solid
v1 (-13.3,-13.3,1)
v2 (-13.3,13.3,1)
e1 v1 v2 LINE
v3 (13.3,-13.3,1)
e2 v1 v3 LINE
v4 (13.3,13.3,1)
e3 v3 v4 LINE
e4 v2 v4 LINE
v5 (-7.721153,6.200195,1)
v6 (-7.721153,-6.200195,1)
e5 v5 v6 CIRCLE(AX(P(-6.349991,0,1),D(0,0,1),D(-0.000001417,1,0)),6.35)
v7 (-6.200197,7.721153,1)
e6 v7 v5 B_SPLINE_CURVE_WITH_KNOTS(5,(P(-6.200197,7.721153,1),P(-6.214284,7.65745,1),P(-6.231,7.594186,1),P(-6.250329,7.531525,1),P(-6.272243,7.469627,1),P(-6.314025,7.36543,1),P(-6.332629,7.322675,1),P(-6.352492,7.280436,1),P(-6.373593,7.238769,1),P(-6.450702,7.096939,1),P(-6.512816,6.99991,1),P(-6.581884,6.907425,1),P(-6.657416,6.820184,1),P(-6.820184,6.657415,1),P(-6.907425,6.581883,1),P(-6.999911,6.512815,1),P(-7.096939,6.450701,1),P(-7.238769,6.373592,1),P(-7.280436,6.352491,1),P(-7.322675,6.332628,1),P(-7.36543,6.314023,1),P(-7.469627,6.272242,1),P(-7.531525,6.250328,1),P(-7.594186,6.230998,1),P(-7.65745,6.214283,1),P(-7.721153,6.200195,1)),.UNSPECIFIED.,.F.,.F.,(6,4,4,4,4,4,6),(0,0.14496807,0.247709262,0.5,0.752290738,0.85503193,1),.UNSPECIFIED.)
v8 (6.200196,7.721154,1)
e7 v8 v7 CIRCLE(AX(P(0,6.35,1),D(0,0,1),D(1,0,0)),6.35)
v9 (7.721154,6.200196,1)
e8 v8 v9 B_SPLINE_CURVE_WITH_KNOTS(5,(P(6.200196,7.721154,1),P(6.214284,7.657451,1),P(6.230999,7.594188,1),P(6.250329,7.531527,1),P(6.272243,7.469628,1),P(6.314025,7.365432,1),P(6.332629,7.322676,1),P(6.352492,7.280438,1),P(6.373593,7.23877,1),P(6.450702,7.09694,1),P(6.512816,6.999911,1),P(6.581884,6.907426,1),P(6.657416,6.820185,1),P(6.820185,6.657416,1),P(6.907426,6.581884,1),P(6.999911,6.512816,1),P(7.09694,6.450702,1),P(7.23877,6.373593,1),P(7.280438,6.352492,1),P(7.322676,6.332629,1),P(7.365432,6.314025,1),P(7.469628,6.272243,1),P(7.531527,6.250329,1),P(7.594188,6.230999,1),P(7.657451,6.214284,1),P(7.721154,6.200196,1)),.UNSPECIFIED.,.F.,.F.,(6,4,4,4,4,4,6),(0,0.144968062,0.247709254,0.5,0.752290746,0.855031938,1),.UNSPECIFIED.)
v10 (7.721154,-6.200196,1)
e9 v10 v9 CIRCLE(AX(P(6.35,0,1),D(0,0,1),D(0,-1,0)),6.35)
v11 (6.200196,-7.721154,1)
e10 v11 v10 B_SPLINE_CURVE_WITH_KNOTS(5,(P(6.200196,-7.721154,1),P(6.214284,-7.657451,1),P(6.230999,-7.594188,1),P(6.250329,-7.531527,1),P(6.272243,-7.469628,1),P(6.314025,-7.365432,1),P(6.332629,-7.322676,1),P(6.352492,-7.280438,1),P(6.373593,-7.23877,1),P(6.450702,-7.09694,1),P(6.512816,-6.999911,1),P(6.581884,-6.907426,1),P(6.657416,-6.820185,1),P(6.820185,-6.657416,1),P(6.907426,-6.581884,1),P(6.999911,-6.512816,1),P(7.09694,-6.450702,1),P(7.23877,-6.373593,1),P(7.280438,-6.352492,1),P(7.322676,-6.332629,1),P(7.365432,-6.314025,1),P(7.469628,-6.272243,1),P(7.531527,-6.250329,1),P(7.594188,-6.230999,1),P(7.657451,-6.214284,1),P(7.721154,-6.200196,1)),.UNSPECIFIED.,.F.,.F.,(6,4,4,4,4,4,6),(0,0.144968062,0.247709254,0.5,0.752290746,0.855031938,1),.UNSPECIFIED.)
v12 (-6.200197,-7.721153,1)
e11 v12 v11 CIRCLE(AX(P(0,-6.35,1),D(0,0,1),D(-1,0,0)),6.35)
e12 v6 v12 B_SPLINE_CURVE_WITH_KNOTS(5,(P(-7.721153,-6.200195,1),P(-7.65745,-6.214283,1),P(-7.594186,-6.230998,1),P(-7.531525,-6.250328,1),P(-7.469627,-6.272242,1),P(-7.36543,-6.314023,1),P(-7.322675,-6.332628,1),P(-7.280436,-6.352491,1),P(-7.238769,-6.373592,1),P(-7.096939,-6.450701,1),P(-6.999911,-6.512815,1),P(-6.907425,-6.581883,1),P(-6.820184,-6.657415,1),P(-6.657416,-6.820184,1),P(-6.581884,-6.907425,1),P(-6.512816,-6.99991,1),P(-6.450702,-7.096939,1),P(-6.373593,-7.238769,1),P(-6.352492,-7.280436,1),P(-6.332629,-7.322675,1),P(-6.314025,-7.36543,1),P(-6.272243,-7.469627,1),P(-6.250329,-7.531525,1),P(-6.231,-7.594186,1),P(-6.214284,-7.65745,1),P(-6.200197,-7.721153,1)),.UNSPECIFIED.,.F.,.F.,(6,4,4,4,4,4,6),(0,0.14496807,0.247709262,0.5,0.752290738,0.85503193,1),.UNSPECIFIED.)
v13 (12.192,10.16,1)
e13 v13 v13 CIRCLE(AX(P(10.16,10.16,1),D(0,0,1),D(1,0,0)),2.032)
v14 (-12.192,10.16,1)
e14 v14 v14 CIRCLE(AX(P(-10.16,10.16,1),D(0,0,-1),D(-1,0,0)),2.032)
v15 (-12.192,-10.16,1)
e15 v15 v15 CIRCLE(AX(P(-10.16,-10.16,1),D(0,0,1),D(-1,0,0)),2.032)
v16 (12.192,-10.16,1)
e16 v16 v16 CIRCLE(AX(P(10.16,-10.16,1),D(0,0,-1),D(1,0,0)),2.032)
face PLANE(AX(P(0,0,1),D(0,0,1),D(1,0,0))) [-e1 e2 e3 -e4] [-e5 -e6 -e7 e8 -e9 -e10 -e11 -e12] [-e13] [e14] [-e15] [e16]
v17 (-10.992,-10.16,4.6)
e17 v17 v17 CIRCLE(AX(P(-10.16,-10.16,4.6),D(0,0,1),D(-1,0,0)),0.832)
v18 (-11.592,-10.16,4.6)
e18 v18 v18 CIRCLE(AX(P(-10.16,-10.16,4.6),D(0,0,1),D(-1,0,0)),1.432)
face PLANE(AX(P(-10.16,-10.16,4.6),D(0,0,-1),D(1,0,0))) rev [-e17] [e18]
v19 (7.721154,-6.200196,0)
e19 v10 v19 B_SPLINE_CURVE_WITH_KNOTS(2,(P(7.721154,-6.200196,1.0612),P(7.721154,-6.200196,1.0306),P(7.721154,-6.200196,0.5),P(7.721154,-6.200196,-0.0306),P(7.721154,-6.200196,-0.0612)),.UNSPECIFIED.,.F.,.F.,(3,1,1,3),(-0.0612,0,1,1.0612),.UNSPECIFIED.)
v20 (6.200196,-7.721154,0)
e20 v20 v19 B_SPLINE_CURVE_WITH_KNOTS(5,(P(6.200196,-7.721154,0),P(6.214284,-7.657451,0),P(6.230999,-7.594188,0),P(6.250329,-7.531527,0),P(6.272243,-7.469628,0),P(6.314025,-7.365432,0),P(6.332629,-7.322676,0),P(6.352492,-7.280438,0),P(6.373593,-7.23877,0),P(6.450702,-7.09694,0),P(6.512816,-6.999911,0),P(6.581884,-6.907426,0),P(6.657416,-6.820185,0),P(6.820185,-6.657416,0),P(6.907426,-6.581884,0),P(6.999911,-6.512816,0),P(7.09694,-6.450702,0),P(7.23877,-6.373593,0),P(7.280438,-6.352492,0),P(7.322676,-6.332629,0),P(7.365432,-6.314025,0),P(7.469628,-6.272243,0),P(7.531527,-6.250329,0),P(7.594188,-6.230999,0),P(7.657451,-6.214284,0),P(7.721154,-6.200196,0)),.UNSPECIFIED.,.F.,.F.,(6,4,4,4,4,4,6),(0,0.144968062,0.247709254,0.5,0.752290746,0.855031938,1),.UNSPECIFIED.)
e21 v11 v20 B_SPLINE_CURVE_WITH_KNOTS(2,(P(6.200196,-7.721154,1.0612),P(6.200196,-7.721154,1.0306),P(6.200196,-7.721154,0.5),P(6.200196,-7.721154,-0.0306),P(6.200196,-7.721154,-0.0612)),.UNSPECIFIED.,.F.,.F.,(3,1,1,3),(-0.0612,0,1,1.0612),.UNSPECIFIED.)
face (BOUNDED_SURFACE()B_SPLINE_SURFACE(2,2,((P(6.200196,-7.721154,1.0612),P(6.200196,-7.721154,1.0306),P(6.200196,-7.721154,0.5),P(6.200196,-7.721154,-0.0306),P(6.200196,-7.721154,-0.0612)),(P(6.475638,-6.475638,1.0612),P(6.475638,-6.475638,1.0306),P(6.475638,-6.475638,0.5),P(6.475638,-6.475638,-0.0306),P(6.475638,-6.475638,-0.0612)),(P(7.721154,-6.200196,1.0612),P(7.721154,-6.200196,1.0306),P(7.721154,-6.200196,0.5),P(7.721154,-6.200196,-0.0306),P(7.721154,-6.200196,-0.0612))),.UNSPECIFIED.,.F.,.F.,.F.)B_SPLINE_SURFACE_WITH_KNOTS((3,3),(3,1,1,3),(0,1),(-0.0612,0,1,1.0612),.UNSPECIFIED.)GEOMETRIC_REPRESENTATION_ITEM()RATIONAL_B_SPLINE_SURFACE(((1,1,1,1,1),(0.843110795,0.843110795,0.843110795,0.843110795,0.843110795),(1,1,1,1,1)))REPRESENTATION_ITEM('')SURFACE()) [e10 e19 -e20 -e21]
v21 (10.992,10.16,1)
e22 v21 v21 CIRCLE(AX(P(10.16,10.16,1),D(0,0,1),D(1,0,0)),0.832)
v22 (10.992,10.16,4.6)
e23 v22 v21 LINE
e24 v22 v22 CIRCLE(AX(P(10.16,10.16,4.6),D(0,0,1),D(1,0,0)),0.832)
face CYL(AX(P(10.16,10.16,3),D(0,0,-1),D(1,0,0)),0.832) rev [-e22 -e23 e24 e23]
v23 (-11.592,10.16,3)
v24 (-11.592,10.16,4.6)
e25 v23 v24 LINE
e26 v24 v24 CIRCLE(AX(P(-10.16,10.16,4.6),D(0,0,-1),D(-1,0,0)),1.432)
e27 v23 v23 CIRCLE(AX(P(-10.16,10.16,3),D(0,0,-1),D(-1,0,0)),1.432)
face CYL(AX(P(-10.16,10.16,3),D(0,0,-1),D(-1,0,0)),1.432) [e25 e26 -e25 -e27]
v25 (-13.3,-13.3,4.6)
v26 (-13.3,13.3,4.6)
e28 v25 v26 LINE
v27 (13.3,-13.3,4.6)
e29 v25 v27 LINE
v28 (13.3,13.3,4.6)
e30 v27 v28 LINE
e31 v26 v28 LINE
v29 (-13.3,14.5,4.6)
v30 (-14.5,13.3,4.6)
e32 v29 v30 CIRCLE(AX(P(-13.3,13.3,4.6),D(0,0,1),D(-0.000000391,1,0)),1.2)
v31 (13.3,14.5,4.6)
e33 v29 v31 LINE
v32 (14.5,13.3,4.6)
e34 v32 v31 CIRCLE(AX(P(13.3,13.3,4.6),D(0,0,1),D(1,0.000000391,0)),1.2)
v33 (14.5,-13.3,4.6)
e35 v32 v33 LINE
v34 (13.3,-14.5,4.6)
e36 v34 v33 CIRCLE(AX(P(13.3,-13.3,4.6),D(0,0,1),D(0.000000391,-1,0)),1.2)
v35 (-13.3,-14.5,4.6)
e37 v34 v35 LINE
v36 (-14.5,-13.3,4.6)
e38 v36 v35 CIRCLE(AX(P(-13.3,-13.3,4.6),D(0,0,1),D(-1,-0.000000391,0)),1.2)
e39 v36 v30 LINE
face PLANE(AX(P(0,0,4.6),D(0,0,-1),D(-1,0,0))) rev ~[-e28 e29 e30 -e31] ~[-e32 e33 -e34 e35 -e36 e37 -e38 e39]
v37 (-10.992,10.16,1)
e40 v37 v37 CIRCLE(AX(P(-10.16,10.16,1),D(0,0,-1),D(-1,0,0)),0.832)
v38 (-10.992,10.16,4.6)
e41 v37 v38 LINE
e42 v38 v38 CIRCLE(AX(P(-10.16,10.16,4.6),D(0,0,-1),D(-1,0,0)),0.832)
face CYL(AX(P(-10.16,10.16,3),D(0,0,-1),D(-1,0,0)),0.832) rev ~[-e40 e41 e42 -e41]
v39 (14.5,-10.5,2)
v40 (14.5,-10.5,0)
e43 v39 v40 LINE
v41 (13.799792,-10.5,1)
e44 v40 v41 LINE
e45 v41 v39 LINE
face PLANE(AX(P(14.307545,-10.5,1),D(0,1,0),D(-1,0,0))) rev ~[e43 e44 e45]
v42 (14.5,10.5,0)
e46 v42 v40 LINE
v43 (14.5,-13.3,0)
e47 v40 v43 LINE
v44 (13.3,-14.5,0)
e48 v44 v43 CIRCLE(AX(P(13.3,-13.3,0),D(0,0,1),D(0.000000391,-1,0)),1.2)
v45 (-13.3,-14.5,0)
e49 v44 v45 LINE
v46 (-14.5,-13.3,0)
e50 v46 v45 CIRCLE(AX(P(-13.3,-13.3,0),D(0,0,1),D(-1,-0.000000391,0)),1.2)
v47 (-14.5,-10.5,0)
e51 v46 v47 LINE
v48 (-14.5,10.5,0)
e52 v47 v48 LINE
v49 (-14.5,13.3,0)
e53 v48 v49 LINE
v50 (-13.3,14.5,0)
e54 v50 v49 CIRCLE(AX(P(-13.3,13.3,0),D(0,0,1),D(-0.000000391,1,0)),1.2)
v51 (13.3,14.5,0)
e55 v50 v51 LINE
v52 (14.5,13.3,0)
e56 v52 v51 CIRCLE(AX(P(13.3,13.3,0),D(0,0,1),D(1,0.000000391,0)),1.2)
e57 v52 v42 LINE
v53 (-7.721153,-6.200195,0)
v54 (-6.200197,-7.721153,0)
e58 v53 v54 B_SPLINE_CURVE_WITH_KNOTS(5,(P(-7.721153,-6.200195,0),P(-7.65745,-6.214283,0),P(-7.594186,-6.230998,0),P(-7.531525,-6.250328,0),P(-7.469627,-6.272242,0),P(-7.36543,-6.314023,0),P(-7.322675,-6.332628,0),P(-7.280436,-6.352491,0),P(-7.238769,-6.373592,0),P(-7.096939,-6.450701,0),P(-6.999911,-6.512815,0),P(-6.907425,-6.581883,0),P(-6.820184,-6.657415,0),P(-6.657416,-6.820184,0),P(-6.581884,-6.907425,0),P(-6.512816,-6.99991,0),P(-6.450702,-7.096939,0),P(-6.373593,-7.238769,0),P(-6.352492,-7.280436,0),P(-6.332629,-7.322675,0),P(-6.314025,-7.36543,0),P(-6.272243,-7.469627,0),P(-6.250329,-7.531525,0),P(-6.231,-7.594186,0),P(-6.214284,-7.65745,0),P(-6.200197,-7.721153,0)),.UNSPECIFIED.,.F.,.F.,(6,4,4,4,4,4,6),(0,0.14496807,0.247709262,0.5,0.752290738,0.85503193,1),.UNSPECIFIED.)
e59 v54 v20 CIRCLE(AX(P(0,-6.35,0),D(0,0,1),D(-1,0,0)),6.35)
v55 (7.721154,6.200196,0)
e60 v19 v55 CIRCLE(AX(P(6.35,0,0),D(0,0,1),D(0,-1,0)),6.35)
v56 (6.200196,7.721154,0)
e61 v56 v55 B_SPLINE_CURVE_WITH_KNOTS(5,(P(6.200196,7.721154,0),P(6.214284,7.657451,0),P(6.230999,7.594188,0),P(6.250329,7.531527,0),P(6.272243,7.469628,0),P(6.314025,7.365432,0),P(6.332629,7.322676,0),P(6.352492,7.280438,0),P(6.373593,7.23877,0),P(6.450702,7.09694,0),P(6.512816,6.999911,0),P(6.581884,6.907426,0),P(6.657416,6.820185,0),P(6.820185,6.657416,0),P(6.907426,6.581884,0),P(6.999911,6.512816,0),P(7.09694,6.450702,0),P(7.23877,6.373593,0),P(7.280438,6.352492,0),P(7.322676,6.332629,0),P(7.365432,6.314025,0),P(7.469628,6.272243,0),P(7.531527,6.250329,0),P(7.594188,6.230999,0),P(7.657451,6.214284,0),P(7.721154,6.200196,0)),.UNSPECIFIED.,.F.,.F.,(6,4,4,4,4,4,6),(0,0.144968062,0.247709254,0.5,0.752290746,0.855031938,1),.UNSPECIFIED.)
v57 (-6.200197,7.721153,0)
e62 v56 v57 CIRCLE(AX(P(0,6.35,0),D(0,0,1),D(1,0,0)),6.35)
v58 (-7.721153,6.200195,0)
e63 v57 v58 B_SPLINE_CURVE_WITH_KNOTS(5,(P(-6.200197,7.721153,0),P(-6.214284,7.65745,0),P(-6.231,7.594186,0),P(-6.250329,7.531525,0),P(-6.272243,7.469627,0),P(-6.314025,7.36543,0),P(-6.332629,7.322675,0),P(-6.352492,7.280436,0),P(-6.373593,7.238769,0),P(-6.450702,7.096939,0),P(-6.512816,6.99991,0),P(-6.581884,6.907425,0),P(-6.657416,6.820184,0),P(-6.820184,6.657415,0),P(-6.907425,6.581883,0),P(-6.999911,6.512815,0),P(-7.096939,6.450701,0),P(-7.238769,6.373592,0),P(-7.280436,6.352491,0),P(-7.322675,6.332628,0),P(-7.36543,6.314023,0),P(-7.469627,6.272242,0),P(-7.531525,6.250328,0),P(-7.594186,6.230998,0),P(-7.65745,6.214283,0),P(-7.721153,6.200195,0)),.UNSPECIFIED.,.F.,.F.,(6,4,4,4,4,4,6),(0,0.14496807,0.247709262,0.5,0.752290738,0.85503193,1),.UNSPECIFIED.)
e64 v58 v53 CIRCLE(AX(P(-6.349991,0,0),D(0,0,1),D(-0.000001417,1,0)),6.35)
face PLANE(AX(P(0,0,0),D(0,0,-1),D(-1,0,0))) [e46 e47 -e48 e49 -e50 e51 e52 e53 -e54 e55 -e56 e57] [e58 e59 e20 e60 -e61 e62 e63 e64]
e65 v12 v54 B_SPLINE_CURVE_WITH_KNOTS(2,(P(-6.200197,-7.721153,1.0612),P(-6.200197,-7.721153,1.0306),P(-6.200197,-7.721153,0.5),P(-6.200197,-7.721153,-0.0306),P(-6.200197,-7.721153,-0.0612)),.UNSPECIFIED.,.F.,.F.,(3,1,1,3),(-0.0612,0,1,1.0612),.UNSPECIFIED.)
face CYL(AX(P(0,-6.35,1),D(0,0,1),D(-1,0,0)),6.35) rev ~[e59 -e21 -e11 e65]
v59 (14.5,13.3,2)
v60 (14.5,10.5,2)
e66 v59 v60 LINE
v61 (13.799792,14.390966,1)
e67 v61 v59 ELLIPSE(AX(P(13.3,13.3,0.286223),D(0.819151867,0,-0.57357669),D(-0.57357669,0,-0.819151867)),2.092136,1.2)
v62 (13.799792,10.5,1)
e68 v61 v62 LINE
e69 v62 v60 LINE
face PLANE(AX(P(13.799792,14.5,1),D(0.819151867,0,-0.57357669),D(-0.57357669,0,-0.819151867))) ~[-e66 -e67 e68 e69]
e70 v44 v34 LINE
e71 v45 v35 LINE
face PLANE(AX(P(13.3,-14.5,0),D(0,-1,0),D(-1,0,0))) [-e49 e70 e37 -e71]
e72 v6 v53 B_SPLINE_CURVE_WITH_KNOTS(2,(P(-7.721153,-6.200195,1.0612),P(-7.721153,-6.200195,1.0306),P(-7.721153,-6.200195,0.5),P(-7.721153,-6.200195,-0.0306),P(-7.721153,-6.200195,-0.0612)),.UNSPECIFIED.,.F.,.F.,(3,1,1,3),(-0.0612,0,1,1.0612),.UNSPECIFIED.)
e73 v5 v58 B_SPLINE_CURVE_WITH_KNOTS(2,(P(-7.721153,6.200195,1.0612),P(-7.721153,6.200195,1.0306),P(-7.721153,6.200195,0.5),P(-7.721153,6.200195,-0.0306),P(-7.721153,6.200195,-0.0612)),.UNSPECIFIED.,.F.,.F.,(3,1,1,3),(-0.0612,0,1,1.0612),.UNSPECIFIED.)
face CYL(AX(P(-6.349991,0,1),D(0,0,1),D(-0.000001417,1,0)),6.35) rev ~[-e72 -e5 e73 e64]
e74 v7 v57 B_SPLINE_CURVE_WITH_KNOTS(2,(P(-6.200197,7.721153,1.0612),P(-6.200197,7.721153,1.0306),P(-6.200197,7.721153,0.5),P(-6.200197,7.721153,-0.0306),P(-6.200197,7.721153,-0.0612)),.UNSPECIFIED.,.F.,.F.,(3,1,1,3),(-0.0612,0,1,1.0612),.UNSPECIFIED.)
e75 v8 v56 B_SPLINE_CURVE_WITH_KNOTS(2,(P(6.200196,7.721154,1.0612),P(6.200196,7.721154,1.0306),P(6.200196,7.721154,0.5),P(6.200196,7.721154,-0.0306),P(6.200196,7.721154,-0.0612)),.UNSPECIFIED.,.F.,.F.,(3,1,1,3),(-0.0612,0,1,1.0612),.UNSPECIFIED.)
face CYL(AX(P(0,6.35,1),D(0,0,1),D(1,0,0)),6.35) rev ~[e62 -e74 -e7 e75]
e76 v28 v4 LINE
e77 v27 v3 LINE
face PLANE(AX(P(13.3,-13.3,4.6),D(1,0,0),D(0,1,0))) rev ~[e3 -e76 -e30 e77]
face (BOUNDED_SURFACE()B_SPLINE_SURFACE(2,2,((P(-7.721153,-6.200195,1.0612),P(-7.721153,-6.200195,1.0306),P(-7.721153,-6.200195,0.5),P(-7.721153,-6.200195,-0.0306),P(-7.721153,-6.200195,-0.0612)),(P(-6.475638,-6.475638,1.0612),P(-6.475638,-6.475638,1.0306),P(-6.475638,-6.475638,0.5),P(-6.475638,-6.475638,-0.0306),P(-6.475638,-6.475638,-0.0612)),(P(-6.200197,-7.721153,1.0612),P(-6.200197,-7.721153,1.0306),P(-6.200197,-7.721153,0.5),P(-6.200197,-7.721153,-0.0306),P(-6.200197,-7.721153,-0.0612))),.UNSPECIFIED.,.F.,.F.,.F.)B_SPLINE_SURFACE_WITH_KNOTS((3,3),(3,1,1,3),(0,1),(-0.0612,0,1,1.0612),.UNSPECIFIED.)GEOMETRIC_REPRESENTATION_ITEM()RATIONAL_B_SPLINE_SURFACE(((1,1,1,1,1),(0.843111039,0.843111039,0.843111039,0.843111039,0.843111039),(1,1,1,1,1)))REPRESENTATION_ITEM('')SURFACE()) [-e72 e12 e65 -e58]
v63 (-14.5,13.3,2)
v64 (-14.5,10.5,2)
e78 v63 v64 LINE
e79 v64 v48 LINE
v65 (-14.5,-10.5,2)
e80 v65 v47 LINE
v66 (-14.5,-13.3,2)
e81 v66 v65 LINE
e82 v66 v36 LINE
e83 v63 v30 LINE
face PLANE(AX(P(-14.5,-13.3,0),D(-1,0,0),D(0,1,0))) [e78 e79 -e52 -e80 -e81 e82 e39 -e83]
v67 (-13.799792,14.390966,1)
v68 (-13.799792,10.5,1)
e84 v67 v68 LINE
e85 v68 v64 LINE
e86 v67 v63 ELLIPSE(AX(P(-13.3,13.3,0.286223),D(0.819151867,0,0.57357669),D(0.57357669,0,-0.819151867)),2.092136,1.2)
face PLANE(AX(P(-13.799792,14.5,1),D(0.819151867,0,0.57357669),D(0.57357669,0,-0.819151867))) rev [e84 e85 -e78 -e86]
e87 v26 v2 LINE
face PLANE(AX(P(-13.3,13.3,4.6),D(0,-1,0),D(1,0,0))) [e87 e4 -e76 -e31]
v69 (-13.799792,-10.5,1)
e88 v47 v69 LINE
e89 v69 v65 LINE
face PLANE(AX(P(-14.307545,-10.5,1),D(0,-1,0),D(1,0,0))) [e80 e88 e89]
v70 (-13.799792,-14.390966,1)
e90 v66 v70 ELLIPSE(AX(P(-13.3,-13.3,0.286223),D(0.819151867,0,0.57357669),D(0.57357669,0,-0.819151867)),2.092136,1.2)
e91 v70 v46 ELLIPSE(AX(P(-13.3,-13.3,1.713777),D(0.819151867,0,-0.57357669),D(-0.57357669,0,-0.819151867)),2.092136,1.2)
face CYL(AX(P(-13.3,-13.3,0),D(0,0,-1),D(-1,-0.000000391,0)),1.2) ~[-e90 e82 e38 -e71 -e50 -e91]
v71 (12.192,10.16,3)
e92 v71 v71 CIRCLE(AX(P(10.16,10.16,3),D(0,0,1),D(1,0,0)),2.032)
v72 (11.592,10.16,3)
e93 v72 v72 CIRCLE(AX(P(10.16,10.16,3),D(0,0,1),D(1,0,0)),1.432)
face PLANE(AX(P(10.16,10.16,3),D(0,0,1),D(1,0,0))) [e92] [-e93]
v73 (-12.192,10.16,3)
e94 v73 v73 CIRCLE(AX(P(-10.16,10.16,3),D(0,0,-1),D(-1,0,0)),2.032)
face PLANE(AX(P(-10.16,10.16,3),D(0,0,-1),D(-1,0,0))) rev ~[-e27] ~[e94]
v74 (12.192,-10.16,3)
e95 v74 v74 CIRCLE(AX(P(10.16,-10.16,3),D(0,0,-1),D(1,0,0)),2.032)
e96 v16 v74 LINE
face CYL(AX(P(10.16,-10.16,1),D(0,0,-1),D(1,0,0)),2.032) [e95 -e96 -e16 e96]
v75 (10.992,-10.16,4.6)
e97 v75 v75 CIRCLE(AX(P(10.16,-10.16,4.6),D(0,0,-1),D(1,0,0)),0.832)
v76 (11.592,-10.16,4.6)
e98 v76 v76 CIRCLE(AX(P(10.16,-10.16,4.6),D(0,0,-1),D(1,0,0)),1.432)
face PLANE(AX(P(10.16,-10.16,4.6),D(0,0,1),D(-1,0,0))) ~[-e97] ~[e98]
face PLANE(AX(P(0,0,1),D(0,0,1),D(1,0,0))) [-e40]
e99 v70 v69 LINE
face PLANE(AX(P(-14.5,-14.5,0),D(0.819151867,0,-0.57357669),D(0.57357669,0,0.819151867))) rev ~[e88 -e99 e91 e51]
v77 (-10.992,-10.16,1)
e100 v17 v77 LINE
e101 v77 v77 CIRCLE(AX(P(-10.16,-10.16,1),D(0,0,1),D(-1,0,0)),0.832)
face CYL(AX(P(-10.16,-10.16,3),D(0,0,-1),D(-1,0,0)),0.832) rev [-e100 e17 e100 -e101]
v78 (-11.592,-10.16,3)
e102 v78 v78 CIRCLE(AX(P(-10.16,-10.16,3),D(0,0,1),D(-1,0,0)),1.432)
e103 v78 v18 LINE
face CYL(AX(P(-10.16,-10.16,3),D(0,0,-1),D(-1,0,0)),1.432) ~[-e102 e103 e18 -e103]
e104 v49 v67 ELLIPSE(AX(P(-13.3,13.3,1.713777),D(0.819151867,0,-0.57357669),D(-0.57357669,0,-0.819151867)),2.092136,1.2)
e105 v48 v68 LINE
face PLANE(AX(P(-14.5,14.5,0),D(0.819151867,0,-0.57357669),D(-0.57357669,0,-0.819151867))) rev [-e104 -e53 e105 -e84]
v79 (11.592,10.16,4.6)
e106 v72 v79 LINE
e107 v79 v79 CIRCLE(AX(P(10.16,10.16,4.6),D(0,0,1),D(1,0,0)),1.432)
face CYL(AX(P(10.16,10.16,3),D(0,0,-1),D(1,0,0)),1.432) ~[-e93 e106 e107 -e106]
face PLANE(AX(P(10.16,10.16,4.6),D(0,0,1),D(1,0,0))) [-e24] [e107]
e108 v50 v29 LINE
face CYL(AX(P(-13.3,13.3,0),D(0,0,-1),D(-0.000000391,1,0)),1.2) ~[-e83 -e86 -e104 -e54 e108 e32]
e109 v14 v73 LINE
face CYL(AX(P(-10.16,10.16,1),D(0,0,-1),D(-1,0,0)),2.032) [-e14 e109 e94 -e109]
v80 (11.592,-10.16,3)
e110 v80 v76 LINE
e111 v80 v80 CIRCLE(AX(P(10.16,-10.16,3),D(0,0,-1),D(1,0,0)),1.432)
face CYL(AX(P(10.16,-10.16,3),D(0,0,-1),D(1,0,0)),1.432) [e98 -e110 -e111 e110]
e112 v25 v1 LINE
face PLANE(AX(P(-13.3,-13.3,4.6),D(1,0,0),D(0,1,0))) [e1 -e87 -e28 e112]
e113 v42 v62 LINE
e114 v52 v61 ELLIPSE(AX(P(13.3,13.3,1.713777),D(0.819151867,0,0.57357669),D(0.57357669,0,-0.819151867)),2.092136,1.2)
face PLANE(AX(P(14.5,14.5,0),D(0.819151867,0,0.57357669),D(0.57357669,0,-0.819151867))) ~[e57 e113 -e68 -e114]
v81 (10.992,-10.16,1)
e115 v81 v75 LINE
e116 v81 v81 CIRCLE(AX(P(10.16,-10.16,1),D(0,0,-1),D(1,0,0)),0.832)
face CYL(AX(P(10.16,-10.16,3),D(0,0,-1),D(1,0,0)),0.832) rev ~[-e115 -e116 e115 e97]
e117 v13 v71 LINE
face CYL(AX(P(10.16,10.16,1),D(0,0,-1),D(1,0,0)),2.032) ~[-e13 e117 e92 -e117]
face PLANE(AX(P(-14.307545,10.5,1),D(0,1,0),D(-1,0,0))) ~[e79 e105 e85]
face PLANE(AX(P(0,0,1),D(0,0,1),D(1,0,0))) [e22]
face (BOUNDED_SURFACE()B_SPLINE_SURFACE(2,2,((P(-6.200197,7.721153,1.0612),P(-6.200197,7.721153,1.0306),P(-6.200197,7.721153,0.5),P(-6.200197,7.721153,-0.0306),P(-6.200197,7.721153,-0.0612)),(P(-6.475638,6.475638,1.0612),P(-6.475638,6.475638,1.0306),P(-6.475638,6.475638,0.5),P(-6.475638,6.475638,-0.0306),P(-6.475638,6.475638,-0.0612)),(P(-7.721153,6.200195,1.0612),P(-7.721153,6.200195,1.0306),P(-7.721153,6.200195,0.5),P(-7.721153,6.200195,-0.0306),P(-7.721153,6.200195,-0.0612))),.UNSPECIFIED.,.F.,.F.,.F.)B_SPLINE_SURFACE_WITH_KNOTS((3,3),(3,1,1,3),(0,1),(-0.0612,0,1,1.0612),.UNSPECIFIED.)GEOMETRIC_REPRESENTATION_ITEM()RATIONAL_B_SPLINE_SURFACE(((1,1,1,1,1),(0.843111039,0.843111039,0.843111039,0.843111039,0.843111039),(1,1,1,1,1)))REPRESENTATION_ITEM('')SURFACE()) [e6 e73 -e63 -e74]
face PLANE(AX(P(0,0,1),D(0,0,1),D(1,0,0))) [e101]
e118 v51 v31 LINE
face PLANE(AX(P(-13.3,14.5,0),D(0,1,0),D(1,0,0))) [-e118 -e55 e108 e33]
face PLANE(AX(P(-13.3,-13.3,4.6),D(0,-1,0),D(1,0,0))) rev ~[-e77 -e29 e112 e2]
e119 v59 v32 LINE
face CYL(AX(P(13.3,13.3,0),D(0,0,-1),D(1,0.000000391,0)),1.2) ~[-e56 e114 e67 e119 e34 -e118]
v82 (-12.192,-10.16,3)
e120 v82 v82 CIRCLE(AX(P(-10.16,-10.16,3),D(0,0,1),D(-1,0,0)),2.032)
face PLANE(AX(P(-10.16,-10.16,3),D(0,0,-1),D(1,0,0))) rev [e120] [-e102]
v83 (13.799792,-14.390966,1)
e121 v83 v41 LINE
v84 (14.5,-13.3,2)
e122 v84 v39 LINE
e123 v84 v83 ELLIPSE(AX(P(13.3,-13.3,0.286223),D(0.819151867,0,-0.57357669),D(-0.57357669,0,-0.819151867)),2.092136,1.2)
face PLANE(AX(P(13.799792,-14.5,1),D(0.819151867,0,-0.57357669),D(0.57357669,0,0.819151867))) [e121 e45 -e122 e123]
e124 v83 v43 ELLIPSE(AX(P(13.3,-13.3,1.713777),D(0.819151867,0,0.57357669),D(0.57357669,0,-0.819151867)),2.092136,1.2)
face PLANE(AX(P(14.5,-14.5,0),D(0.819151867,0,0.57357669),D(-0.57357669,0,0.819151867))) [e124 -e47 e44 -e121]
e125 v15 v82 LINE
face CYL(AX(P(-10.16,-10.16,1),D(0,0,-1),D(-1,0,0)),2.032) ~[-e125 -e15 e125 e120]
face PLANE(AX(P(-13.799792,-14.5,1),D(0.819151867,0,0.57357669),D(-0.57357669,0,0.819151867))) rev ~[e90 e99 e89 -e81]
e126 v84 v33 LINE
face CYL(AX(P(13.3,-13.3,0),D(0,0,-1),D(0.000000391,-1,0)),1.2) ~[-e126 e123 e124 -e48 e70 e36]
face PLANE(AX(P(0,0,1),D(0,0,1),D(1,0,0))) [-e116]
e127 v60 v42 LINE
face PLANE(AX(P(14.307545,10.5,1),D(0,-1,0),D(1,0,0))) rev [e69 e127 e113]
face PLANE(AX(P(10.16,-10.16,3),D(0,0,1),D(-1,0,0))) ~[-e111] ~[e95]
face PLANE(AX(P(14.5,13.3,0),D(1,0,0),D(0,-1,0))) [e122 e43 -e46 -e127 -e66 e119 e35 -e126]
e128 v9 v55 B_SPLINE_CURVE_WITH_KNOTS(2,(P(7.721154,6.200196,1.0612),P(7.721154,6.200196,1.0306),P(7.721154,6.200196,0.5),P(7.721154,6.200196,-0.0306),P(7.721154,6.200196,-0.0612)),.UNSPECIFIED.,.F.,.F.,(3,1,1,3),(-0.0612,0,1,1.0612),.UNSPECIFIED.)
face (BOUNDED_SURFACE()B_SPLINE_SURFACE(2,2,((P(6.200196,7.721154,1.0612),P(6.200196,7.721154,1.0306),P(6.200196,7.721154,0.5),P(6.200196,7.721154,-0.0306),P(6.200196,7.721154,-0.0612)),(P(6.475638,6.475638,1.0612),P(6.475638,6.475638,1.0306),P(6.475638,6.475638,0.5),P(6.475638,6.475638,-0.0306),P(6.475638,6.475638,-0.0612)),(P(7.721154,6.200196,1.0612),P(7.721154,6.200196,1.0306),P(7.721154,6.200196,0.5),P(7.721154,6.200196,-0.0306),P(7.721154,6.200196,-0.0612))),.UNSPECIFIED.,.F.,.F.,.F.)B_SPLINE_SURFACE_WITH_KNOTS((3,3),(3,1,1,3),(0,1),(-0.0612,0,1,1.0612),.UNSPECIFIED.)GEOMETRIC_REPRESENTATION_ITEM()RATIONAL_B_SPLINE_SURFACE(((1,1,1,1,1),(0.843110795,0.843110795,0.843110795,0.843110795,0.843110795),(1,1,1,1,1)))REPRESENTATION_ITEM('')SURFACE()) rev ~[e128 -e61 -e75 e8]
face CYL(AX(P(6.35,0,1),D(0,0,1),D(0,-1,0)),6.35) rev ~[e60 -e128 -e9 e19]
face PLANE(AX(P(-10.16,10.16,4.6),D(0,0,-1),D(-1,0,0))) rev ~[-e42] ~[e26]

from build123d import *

# Parameters (mm, degrees)
PAD011_DEPTH                = 4.6
SKETCH016_W                 = 26.6
SKETCH016_H                 = 26.6
POCKET005_DEPTH             = 3.6
SKETCH018_R                 = 2.032
SKETCH018_R_2               = 0.832
PAD012_DEPTH                = 2
SKETCH018_MIRRORED013_2_R   = 2.032
SKETCH018_MIRRORED013_2_R_2 = 0.832
PAD012_MIRRORED013_2_DEPTH  = 2
SKETCH_R                    = 1.432
SKETCH_R_2                  = 0.832
PAD_DEPTH                   = 1.6
SKETCH_MIRRORED023_2_R      = 1.432
SKETCH_MIRRORED023_2_R_2    = 0.832
PAD_MIRRORED023_2_DEPTH     = 1.6
POCKET007_DEPTH             = 1.001
POCKET009_DEPTH             = 4
POCKET009_MIRRORED_2_DEPTH  = 4
FILLET014_R                 = 2


with BuildPart() as part:
    # Sketch015 → Pad011 (new body)
    with BuildSketch(Plane.XY):
        with BuildLine():
            Line((-13.3, 14.5), (13.3, 14.5))
            ThreePointArc((14.5, 13.3), (14.148528, 14.148528), (13.3, 14.5))
            Line((14.5, 13.3), (14.5, -13.3))
            ThreePointArc((13.3, -14.5), (14.148528, -14.148528), (14.5, -13.3))
            Line((13.3, -14.5), (-13.3, -14.5))
            ThreePointArc((-14.5, -13.3), (-14.148528, -14.148528), (-13.3, -14.5))
            Line((-14.5, -13.3), (-14.5, 13.3))
            ThreePointArc((-13.3, 14.5), (-14.148528, 14.148528), (-14.5, 13.3))
        make_face()
    extrude(amount=PAD011_DEPTH)

    # Sketch016 (on Face10 of Pad011) → Pocket005 (cut)
    with BuildSketch(Plane.XY.offset(4.6)):
        Rectangle(SKETCH016_W, SKETCH016_H)
    extrude(amount=-POCKET005_DEPTH, mode=Mode.SUBTRACT)

    # Sketch018 → Pad012 (join)
    with BuildSketch(Plane.XY.offset(1)):
        with Locations((10.16, 10.16)):
            Circle(SKETCH018_R)
        with Locations((10.16, 10.16)):
            Circle(SKETCH018_R_2, mode=Mode.SUBTRACT)
    pad012 = extrude(amount=PAD012_DEPTH)

    # Sketch018 Mirrored013 2 → Pad012 Mirrored013 2 (add)
    with BuildSketch(Plane(origin=(0, 0, 1), x_dir=(-1, 0, 0), z_dir=(0, 0, -1))):
        with Locations((10.16, 10.16)):
            Circle(SKETCH018_MIRRORED013_2_R)
        with Locations((10.16, 10.16)):
            Circle(SKETCH018_MIRRORED013_2_R_2, mode=Mode.SUBTRACT)
    pad012_mirrored013_2 = extrude(amount=-PAD012_MIRRORED013_2_DEPTH)

    # Mirrored014: Pad012, Pad012 Mirrored013 2 across Sketch018 H_Axis
    add(pad012.mirror(Plane(origin=(0, 0, 1), x_dir=(0, 0, 1), z_dir=(0, 1, 0))))
    add(pad012_mirrored013_2.mirror(Plane(origin=(0, 0, 1), x_dir=(0, 0, 1), z_dir=(0, 1, 0))))

    # Sketch (on Face22 of MultiTransform008) → Pad (join)
    with BuildSketch(Plane.XY.offset(3)):
        with Locations((10.16, 10.16)):
            Circle(SKETCH_R)
        with Locations((10.16, 10.16)):
            Circle(SKETCH_R_2, mode=Mode.SUBTRACT)
    pad = extrude(amount=PAD_DEPTH)

    # Sketch Mirrored023 2 → Pad Mirrored023 2 (add)
    with BuildSketch(Plane(origin=(0, 0, 3), x_dir=(-1, 0, 0), z_dir=(0, 0, -1))):
        with Locations((10.16, 10.16)):
            Circle(SKETCH_MIRRORED023_2_R)
        with Locations((10.16, 10.16)):
            Circle(SKETCH_MIRRORED023_2_R_2, mode=Mode.SUBTRACT)
    pad_mirrored023_2 = extrude(amount=-PAD_MIRRORED023_2_DEPTH)

    # Mirrored024: Pad, Pad Mirrored023 2 across Sketch H_Axis
    add(pad.mirror(Plane(origin=(0, 0, 3), x_dir=(0, 0, 1), z_dir=(0, 1, 0))))
    add(pad_mirrored023_2.mirror(Plane(origin=(0, 0, 3), x_dir=(0, 0, 1), z_dir=(0, 1, 0))))

    # Sketch020 (on Face15 of Pocket005) → Pocket007 (cut, through all)
    with BuildSketch(Plane.XY.offset(1)):
        with BuildLine():
            ThreePointArc((6.35, 6.35), (0, 12.7), (-6.35, 6.35))
            ThreePointArc((-6.35, 6.35), (-12.699991, 0), (-6.35, -6.35))
            ThreePointArc((-6.35, -6.35), (0, -12.7), (6.35, -6.35))
            ThreePointArc((6.35, -6.35), (12.7, 0), (6.35, 6.35))
        make_face()
    extrude(amount=-POCKET007_DEPTH, mode=Mode.SUBTRACT)

    # Sketch026 (on Face6 of Pocket007) → Pocket009 (cut)
    with BuildSketch(Plane.XZ.offset(14.5)):
        Polygon((14.5, 0), (13.799792, 1), (14.5, 2), align=None)
    pocket009 = extrude(amount=-POCKET009_DEPTH, mode=Mode.SUBTRACT)

    # Sketch026 Mirrored 2 → Pocket009 Mirrored 2 (cut)
    with BuildSketch(Plane(origin=(0, -14.5, 0), x_dir=(-1, 0, 0), z_dir=(0, 1, 0))):
        Polygon((14.5, 0), (13.799792, 1), (14.5, 2), align=None)
    pocket009_mirrored_2 = extrude(amount=POCKET009_MIRRORED_2_DEPTH, mode=Mode.SUBTRACT)

    # Mirrored022: Pocket009, Pocket009 Mirrored 2 across XZ
    add(pocket009.mirror(Plane.XZ), mode=Mode.SUBTRACT)
    add(pocket009_mirrored_2.mirror(Plane.XZ), mode=Mode.SUBTRACT)

    # Fillet014
    fillet014_edges = [part.edges().sort_by_distance(p)[0] for p in [
        (-6.35, 6.35, 0.5),
        (6.35, 6.35, 0.5),
        (-6.35, -6.35, 0.5),
        (6.35, -6.35, 0.5),
    ]]
    fillet(fillet014_edges, radius=FILLET014_R)


solid = part.part
